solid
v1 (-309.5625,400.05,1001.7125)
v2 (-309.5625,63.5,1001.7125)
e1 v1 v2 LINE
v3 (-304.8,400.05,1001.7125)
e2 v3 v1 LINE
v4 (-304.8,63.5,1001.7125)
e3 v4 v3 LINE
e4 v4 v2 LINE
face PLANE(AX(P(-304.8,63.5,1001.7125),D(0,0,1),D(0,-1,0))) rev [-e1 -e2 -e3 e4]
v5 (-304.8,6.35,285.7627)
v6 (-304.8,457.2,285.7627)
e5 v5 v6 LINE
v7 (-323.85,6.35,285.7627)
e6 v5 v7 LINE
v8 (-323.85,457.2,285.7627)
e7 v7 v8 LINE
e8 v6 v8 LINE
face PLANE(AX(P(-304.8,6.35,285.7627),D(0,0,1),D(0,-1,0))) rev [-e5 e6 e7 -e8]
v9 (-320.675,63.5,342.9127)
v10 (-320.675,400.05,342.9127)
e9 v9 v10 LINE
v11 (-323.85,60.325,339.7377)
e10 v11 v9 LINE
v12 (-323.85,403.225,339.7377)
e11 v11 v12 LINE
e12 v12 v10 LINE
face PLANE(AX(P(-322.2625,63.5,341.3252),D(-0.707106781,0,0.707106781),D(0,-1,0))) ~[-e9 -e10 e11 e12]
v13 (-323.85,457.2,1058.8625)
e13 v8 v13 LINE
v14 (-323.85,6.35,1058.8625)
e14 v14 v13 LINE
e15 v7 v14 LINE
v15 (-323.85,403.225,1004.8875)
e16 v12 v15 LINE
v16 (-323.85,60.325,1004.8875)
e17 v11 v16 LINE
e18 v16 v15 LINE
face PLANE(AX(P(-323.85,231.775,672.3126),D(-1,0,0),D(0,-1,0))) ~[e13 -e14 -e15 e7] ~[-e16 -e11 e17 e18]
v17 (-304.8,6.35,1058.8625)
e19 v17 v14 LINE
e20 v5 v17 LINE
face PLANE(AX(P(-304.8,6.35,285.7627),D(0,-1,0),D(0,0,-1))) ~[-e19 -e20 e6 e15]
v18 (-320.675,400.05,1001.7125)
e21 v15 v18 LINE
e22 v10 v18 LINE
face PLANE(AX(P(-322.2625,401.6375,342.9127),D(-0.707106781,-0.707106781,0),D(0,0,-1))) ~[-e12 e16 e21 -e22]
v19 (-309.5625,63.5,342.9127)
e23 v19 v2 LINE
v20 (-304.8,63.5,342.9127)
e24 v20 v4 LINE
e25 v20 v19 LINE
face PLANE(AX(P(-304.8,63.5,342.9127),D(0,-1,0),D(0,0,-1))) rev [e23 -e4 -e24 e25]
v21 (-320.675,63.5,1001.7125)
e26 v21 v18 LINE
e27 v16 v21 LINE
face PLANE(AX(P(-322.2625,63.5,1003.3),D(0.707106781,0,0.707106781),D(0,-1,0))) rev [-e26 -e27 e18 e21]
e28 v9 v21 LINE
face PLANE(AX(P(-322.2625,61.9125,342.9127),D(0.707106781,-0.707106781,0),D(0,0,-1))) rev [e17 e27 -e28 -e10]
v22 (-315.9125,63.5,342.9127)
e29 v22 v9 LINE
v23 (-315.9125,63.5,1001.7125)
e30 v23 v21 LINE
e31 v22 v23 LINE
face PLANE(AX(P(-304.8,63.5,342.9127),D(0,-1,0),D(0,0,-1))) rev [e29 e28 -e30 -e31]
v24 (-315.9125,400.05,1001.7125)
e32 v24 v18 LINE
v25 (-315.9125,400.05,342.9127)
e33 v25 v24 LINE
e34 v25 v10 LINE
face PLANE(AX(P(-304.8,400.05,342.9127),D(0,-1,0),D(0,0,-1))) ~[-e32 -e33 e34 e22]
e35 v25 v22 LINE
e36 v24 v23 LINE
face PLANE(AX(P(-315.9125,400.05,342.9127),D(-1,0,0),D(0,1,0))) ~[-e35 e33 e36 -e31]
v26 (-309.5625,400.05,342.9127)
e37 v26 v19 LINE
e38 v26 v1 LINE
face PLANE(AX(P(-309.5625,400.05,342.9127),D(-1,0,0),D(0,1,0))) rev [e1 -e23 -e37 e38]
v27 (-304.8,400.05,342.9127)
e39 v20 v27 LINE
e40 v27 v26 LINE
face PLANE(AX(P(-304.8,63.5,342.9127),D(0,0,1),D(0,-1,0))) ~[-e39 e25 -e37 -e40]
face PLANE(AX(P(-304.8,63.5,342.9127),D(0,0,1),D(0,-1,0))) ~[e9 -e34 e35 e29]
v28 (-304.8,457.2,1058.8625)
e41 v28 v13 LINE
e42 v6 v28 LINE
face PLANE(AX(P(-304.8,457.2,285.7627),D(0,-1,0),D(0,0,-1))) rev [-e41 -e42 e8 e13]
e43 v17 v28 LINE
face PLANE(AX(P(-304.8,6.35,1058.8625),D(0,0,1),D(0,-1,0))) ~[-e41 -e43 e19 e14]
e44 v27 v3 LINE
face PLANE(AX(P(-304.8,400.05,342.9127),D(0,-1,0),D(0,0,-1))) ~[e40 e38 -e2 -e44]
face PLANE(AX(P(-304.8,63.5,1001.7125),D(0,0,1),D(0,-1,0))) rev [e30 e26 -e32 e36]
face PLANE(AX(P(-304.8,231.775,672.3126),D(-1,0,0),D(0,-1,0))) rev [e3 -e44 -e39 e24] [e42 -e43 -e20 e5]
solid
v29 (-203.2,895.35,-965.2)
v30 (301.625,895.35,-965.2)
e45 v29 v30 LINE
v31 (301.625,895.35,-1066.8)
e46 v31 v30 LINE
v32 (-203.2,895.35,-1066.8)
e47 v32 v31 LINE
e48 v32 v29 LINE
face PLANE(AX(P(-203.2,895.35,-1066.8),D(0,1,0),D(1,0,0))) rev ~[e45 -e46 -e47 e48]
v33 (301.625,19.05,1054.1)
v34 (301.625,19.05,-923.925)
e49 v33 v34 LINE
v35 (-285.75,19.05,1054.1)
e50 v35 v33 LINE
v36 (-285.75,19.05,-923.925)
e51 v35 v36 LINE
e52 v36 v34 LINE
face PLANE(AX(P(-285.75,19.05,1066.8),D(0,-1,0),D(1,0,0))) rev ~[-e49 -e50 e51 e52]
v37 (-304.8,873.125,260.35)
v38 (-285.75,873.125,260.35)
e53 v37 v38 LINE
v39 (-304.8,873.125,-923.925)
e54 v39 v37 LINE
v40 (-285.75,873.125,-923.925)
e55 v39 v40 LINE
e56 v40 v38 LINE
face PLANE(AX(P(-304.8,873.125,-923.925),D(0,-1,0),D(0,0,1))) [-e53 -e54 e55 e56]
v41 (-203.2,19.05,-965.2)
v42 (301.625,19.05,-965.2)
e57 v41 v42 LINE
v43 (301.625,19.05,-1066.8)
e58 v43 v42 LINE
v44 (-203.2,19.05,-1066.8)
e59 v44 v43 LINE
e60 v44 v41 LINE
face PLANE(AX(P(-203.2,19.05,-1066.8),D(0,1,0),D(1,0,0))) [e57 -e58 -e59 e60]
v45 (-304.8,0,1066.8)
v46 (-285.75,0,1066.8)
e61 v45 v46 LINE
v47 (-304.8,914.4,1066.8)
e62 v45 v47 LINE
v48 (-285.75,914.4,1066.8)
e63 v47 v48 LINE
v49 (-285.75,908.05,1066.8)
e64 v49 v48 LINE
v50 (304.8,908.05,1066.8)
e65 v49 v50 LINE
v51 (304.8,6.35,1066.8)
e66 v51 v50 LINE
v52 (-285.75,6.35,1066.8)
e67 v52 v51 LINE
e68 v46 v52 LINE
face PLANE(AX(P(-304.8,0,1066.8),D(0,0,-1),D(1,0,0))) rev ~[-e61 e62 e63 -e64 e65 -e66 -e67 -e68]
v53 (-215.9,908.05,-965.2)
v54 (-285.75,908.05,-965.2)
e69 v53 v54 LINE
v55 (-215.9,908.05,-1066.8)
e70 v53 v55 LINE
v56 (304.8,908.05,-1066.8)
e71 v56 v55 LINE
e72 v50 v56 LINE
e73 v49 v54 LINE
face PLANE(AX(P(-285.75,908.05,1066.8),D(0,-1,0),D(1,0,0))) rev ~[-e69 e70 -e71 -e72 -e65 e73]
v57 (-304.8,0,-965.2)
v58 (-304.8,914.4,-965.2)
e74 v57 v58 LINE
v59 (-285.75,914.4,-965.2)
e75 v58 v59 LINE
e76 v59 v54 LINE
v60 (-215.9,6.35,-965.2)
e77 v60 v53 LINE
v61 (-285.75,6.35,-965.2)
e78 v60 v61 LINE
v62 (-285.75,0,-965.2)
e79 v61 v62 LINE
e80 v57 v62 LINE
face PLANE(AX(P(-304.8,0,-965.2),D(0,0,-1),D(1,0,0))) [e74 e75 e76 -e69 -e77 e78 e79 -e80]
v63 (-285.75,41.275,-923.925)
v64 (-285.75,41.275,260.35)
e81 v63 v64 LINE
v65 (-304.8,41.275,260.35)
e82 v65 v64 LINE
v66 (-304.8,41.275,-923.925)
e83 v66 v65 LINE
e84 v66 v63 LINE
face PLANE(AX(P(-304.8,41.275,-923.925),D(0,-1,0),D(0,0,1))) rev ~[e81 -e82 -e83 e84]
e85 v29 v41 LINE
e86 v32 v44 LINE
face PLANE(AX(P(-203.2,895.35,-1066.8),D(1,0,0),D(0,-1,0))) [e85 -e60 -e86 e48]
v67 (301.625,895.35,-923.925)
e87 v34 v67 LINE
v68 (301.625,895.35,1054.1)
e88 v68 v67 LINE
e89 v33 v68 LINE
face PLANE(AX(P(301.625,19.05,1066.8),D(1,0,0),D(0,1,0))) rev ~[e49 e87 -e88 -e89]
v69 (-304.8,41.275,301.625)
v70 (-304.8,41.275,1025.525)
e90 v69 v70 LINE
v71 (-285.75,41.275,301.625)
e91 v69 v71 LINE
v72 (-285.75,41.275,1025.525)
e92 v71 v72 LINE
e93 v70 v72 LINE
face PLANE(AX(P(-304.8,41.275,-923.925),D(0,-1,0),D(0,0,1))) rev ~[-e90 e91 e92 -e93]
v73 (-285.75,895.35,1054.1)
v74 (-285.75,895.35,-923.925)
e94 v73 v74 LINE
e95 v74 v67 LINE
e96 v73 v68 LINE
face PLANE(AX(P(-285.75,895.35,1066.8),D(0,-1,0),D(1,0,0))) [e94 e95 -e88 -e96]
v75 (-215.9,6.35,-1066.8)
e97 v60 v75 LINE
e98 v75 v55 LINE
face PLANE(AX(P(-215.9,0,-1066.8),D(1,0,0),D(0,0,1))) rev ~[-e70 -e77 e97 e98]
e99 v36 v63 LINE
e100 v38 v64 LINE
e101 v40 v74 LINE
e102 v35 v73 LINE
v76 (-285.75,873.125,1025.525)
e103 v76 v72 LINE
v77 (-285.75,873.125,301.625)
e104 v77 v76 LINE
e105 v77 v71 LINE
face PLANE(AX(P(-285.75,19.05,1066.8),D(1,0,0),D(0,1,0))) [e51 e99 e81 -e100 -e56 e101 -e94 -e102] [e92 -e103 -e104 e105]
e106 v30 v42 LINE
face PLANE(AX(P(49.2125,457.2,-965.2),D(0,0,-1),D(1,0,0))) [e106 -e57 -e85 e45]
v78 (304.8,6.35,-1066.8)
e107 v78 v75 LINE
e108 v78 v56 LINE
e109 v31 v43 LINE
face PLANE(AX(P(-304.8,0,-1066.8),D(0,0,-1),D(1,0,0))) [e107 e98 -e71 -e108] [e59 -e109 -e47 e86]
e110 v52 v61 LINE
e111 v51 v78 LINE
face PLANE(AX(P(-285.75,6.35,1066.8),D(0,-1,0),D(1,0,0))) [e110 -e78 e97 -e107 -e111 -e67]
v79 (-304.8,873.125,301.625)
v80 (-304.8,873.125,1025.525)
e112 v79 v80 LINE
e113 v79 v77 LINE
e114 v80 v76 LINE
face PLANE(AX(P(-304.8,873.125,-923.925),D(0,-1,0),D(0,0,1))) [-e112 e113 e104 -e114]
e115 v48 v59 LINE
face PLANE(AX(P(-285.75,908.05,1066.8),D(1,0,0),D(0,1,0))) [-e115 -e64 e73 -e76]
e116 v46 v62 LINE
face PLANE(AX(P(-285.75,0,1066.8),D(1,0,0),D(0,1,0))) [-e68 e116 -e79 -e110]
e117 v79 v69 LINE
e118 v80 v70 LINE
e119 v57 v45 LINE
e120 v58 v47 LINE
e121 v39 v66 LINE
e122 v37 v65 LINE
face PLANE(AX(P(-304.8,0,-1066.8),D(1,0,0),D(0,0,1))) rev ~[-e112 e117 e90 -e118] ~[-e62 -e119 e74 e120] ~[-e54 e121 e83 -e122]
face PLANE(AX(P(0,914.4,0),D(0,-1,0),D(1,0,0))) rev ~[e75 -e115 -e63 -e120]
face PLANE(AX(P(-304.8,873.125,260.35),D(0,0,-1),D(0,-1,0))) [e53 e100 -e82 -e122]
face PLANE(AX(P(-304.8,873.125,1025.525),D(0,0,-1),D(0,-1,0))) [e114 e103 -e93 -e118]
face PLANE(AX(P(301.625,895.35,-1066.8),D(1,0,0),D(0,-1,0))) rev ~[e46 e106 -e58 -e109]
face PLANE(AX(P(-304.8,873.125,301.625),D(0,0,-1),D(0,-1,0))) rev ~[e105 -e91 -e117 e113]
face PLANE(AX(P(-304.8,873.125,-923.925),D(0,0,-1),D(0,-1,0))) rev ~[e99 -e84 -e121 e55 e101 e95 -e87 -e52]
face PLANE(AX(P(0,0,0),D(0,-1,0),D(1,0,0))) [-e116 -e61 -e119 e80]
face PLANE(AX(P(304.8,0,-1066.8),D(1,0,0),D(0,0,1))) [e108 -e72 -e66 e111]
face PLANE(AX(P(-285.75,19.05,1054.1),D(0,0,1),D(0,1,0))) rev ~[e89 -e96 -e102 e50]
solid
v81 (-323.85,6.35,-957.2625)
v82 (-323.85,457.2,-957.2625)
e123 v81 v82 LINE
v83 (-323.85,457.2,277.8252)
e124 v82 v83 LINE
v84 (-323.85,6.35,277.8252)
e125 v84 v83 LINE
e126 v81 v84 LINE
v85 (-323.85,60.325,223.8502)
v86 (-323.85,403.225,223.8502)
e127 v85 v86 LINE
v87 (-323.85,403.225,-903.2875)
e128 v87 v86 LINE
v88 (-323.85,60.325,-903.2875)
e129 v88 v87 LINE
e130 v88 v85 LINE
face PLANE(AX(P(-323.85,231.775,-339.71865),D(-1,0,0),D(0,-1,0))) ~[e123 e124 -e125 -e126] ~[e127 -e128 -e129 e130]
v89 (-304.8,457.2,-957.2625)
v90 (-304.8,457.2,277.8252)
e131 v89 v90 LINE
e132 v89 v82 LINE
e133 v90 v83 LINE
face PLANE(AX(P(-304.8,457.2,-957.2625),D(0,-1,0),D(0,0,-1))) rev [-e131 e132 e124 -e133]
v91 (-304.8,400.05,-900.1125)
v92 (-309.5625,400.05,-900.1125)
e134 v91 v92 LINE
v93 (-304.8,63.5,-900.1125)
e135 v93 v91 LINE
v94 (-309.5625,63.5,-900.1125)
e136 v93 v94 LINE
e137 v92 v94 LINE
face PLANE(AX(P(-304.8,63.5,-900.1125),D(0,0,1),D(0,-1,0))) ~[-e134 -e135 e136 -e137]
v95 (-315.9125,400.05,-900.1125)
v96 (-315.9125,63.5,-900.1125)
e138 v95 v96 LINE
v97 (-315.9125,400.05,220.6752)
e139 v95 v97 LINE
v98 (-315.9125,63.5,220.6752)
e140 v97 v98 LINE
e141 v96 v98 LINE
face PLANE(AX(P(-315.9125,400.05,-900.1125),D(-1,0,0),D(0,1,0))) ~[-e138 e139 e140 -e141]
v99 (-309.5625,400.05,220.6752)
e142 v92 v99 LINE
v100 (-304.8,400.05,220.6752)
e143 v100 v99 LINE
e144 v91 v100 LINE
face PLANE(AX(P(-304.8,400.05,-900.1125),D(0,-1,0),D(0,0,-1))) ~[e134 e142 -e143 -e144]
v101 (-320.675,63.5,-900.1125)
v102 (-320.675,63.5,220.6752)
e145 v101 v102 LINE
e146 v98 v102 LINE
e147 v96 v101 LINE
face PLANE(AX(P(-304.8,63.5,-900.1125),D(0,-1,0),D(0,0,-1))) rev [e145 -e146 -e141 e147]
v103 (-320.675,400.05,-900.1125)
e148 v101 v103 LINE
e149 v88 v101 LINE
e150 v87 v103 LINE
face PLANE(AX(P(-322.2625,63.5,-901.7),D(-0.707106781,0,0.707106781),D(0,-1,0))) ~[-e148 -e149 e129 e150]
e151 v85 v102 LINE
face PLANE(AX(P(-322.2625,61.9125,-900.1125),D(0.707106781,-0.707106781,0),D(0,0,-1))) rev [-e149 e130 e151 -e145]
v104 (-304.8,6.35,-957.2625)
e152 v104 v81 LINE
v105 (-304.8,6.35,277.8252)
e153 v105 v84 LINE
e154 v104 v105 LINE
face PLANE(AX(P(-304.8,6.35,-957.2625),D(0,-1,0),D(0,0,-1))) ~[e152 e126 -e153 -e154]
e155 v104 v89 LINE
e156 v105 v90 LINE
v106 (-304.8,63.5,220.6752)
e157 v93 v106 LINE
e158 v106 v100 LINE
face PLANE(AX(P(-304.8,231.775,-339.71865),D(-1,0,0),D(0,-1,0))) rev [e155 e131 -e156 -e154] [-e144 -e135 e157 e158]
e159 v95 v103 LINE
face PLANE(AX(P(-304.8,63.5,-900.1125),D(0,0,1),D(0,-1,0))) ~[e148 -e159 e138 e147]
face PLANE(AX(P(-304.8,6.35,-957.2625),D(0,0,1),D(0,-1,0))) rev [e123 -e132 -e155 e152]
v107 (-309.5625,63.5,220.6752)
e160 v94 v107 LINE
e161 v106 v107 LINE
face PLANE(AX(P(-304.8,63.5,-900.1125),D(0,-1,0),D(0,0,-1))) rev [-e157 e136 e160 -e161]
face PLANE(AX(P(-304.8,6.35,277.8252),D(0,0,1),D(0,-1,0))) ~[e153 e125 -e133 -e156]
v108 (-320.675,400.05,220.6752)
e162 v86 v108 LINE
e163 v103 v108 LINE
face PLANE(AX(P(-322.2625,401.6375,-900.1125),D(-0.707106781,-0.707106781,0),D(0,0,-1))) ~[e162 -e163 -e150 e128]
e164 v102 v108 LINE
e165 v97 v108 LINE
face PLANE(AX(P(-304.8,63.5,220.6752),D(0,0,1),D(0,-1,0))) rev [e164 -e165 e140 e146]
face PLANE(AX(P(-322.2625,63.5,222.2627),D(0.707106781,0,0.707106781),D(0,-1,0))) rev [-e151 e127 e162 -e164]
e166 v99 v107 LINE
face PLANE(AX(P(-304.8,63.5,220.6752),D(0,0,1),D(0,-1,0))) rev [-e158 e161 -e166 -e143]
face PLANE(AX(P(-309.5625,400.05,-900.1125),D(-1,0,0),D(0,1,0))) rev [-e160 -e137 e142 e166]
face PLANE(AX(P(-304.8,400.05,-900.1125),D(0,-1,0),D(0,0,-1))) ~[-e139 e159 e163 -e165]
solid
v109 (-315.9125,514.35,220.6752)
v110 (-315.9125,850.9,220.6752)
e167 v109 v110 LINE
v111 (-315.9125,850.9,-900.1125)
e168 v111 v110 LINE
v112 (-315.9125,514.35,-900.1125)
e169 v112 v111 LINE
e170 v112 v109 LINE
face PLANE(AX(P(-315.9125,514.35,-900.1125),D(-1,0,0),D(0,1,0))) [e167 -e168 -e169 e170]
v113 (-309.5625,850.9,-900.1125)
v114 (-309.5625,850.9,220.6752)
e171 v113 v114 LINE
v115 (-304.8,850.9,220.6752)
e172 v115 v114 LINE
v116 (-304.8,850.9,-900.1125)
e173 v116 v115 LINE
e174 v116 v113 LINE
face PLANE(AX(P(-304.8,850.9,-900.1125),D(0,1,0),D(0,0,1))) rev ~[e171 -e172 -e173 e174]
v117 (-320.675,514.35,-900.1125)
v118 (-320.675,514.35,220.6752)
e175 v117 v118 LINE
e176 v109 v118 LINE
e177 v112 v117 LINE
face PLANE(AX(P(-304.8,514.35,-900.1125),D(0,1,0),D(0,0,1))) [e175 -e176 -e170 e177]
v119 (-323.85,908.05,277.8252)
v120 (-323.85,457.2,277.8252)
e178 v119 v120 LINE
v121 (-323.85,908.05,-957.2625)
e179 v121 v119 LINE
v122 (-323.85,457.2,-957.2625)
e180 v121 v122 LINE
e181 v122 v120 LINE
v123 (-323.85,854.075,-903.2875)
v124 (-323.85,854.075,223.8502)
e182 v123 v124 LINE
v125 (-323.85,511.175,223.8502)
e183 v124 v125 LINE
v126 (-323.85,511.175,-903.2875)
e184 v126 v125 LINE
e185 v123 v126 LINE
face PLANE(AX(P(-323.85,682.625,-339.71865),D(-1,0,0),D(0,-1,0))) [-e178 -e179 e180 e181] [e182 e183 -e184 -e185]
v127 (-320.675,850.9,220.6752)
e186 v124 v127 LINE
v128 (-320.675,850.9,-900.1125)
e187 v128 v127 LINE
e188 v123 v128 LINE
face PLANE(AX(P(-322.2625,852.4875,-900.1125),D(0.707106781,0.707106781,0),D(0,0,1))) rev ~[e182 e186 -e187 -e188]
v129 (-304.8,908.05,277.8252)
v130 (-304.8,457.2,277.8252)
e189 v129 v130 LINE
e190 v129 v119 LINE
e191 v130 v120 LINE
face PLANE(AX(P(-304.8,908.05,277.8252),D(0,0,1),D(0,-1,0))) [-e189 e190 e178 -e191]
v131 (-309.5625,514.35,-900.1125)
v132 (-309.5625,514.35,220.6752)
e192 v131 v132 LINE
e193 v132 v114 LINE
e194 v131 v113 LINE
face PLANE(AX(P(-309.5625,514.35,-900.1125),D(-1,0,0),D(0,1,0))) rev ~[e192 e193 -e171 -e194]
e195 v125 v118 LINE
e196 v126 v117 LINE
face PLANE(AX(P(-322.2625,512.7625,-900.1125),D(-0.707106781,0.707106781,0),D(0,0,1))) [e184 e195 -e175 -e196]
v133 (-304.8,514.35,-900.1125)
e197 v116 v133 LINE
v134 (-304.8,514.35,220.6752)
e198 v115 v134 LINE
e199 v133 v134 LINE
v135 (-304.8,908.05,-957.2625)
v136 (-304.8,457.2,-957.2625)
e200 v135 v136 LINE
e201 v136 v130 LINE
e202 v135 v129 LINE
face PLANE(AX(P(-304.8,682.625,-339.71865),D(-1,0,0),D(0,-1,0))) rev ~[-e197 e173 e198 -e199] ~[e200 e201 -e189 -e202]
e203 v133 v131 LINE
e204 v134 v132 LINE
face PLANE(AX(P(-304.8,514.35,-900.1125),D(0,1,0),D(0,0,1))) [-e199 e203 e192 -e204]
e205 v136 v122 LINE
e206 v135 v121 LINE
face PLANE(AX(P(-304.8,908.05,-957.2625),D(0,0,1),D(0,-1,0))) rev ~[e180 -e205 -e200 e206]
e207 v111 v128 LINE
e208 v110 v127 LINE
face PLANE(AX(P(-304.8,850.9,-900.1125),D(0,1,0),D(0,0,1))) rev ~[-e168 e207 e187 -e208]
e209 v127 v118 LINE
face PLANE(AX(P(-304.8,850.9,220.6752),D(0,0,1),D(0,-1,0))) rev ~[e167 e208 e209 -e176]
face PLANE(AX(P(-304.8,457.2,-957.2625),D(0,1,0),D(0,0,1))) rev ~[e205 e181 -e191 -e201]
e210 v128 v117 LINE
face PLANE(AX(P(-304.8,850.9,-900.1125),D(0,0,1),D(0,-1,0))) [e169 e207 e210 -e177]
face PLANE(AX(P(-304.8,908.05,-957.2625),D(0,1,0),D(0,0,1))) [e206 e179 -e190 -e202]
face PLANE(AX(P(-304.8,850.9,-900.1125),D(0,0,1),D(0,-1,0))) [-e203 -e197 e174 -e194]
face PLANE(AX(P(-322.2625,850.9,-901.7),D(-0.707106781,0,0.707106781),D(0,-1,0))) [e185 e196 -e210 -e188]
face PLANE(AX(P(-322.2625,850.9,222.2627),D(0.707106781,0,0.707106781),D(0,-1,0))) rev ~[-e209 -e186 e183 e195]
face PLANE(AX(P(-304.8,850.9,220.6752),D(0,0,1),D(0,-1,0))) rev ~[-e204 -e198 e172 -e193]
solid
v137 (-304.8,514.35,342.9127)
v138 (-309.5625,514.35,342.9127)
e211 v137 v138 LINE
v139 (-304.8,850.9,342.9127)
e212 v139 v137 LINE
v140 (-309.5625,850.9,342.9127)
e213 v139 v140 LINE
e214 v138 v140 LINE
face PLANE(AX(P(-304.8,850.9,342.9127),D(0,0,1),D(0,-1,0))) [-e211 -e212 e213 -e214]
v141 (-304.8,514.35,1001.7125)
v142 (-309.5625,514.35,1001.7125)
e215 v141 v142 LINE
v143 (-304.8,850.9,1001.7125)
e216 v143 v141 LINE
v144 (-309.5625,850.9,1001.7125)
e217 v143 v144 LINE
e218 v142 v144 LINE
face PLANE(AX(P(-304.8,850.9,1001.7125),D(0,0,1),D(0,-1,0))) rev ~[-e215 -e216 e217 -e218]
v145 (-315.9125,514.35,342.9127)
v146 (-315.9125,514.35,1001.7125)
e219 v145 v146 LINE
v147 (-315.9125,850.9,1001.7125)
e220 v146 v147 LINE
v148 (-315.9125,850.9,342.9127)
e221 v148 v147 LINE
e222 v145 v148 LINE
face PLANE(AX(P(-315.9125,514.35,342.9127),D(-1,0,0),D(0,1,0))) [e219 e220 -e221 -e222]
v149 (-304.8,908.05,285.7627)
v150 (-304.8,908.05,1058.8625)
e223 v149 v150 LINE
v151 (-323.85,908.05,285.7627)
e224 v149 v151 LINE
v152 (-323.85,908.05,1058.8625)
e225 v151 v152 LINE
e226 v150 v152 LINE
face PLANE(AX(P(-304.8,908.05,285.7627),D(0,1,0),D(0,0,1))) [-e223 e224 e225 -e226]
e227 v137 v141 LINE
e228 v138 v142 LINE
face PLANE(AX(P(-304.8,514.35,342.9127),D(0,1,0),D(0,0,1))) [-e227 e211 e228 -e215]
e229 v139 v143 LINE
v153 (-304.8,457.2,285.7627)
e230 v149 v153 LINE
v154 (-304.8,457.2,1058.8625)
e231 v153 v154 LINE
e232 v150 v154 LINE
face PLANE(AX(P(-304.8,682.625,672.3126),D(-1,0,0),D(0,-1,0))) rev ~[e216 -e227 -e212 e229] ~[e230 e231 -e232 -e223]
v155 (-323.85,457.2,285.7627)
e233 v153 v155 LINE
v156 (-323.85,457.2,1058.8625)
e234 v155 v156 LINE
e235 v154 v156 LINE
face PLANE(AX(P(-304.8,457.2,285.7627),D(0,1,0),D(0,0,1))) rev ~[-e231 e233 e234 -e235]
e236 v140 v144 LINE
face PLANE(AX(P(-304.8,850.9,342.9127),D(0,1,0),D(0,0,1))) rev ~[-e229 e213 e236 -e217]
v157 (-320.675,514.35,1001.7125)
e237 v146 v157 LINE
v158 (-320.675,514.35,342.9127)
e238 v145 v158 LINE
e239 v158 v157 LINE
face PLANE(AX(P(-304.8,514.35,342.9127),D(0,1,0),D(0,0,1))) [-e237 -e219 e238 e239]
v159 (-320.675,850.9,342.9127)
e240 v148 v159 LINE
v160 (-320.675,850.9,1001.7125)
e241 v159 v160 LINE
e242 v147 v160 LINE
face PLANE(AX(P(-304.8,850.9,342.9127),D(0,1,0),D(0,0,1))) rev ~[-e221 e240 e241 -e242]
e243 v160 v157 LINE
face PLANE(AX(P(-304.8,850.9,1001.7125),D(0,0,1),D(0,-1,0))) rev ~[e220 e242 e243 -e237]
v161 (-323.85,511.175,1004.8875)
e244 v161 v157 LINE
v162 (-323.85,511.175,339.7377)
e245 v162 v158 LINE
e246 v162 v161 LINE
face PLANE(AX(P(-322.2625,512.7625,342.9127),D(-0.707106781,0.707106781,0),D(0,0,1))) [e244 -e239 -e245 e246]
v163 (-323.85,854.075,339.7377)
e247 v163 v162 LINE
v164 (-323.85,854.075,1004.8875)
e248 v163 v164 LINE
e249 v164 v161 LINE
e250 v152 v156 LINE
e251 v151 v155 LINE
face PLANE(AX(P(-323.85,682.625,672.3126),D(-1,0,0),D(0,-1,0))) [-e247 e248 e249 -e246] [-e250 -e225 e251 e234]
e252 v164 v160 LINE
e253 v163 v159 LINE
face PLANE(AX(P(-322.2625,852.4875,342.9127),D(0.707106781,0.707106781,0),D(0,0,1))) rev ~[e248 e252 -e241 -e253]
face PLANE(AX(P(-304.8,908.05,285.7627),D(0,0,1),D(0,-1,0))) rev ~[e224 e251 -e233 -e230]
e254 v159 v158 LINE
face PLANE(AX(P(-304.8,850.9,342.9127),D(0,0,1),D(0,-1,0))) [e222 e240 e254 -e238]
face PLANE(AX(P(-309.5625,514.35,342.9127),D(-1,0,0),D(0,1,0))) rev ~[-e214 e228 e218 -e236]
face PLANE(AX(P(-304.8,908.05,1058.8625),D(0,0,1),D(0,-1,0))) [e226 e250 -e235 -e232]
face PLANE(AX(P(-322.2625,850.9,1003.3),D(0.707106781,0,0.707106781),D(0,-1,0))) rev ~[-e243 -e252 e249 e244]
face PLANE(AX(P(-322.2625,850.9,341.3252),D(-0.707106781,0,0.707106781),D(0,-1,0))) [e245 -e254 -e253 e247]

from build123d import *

# Parameters (mm, degrees)
F0_W      = 609.6
F0_H      = 2133.6
F1_DEPTH  = 914.4
F2_W      = 88.9
F2_H      = 101.6
F3_DEPTH  = 914.401
F4_W      = 831.85
F4_H      = 1949.45
F5_DEPTH  = 19.05
F6_W      = 590.55
F6_H      = 6.35
F7_DEPTH  = 2133.601
F8_W      = 587.375
F8_H      = 876.3
F9_DEPTH  = 1990.725
F10_W     = 831.85
F10_H     = 41.275
F11_DEPTH = 19.05
F12_W     = 450.85
F12_H     = 1235.0877
F12_W_2   = 336.55
F12_H_2   = 1120.7877
F12_H_3   = 773.0998
F12_H_4   = 658.7998
F13_DEPTH = 19.05
F14_W     = 6.35
F14_H     = 336.55
F15_DEPTH = 1120.7877
F16_W     = 6.35
F16_H     = 336.55
F17_DEPTH = 658.7998
F18_SIZE  = 3.175
F20_W     = 504.825
F20_H     = 876.3
F21_DEPTH = 101.6
F22_W     = 876.3
F22_H     = 12.7
F23_DEPTH = 587.375


with BuildPart() as f1:
    # F0 (on Front) → F1 (new body)
    with BuildSketch(Plane.XZ):
        Rectangle(F0_W, F0_H)
    extrude(amount=-F1_DEPTH)

    # F2 (on face) → F3 (cut, through all)
    with BuildSketch(Plane.XZ):
        with Locations((-260.35, -1016)):
            Rectangle(F2_W, F2_H)
    extrude(amount=-F3_DEPTH, mode=Mode.SUBTRACT)

    # F4 (on face) → F5 (cut)
    with BuildSketch(Plane(origin=(-304.8, 0, 0), x_dir=(0, -1, 0), z_dir=(-1, 0, 0))):
        with Locations((-457.2, 50.8)):
            Rectangle(F4_W, F4_H)
    extrude(amount=-F5_DEPTH, mode=Mode.SUBTRACT)

    # F6 (on face) → F7 (cut, through all)
    with BuildSketch(Plane.XY.offset(1066.8)):
        with Locations((9.525, 911.225)):
            Rectangle(F6_W, F6_H)
        with Locations((9.525, 3.175)):
            Rectangle(F6_W, F6_H)
    extrude(amount=-F7_DEPTH, mode=Mode.SUBTRACT)

    # F8 (on face) → F9 (cut, through all)
    with BuildSketch(Plane.XY.offset(1066.8)):
        with Locations((7.9375, 457.2)):
            Rectangle(F8_W, F8_H)
    extrude(amount=-F9_DEPTH, mode=Mode.SUBTRACT)

    # F10 (on face) → F11 (join, through all)
    with BuildSketch(Plane(origin=(-304.8, 0, 0), x_dir=(0, -1, 0), z_dir=(-1, 0, 0))):
        with Locations((-457.2, 280.9875)):
            Rectangle(F10_W, F10_H)
    extrude(amount=-F11_DEPTH)

    # F20 (on face) → F21 (cut)
    with BuildSketch(Plane(origin=(0, 0, -1066.8), x_dir=(1, 0, 0), z_dir=(0, 0, -1))):
        with Locations((49.2125, -457.2)):
            Rectangle(F20_W, F20_H)
    extrude(amount=-F21_DEPTH, mode=Mode.SUBTRACT)

    # F22 (on face) → F23 (join, through all)
    with BuildSketch(Plane.YZ.offset(-285.75)):
        with Locations((457.2, 1060.45)):
            Rectangle(F22_W, F22_H)
    extrude(amount=F23_DEPTH)


with BuildPart() as f13:
    # F12 (on face) → F13 (new body)
    with BuildSketch(Plane(origin=(-304.8, 0, 0), x_dir=(0, -1, 0), z_dir=(-1, 0, 0))):
        with Locations((-682.625, -339.71865)):
            Rectangle(F12_W, F12_H)
        with Locations((-682.625, -339.71865)):
            Rectangle(F12_W_2, F12_H_2, mode=Mode.SUBTRACT)
        with Locations((-682.625, 672.3126)):
            Rectangle(F12_W, F12_H_3)
        with Locations((-682.625, 672.3126)):
            Rectangle(F12_W_2, F12_H_4, mode=Mode.SUBTRACT)
    extrude(amount=F13_DEPTH)

    # F14 (on face) → F15 (join, through all)
    with BuildSketch(Plane.XY.offset(-900.1125)):
        with Locations((-312.7375, 682.625)):
            Rectangle(F14_W, F14_H)
    extrude(amount=F15_DEPTH)

    # F16 (on face) → F17 (join, through all)
    with BuildSketch(Plane.XY.offset(342.9127)):
        with Locations((-312.7375, 682.625)):
            Rectangle(F16_W, F16_H)
    extrude(amount=F17_DEPTH)

    # F18
    f18_edges = [f13.edges().sort_by_distance(p)[0] for p in [
        (-323.85, 850.9, -339.71865),
        (-323.85, 682.625, -900.1125),
        (-323.85, 514.35, -339.71865),
        (-323.85, 682.625, 220.6752),
        (-323.85, 682.625, 342.9127),
        (-323.85, 850.9, 672.3126),
        (-323.85, 514.35, 672.3126),
        (-323.85, 682.625, 1001.7125),
    ]]
    chamfer(f18_edges, length=F18_SIZE)


with BuildPart() as f19_1:
    # F19: instance of F13
    add(f13.part.mirror(Plane(origin=(-314.325, 457.2, -339.71865), x_dir=(1, 0, 0), z_dir=(0, -1, 0))))


solid = Compound([f1.part, f13.part, f19_1.part])
